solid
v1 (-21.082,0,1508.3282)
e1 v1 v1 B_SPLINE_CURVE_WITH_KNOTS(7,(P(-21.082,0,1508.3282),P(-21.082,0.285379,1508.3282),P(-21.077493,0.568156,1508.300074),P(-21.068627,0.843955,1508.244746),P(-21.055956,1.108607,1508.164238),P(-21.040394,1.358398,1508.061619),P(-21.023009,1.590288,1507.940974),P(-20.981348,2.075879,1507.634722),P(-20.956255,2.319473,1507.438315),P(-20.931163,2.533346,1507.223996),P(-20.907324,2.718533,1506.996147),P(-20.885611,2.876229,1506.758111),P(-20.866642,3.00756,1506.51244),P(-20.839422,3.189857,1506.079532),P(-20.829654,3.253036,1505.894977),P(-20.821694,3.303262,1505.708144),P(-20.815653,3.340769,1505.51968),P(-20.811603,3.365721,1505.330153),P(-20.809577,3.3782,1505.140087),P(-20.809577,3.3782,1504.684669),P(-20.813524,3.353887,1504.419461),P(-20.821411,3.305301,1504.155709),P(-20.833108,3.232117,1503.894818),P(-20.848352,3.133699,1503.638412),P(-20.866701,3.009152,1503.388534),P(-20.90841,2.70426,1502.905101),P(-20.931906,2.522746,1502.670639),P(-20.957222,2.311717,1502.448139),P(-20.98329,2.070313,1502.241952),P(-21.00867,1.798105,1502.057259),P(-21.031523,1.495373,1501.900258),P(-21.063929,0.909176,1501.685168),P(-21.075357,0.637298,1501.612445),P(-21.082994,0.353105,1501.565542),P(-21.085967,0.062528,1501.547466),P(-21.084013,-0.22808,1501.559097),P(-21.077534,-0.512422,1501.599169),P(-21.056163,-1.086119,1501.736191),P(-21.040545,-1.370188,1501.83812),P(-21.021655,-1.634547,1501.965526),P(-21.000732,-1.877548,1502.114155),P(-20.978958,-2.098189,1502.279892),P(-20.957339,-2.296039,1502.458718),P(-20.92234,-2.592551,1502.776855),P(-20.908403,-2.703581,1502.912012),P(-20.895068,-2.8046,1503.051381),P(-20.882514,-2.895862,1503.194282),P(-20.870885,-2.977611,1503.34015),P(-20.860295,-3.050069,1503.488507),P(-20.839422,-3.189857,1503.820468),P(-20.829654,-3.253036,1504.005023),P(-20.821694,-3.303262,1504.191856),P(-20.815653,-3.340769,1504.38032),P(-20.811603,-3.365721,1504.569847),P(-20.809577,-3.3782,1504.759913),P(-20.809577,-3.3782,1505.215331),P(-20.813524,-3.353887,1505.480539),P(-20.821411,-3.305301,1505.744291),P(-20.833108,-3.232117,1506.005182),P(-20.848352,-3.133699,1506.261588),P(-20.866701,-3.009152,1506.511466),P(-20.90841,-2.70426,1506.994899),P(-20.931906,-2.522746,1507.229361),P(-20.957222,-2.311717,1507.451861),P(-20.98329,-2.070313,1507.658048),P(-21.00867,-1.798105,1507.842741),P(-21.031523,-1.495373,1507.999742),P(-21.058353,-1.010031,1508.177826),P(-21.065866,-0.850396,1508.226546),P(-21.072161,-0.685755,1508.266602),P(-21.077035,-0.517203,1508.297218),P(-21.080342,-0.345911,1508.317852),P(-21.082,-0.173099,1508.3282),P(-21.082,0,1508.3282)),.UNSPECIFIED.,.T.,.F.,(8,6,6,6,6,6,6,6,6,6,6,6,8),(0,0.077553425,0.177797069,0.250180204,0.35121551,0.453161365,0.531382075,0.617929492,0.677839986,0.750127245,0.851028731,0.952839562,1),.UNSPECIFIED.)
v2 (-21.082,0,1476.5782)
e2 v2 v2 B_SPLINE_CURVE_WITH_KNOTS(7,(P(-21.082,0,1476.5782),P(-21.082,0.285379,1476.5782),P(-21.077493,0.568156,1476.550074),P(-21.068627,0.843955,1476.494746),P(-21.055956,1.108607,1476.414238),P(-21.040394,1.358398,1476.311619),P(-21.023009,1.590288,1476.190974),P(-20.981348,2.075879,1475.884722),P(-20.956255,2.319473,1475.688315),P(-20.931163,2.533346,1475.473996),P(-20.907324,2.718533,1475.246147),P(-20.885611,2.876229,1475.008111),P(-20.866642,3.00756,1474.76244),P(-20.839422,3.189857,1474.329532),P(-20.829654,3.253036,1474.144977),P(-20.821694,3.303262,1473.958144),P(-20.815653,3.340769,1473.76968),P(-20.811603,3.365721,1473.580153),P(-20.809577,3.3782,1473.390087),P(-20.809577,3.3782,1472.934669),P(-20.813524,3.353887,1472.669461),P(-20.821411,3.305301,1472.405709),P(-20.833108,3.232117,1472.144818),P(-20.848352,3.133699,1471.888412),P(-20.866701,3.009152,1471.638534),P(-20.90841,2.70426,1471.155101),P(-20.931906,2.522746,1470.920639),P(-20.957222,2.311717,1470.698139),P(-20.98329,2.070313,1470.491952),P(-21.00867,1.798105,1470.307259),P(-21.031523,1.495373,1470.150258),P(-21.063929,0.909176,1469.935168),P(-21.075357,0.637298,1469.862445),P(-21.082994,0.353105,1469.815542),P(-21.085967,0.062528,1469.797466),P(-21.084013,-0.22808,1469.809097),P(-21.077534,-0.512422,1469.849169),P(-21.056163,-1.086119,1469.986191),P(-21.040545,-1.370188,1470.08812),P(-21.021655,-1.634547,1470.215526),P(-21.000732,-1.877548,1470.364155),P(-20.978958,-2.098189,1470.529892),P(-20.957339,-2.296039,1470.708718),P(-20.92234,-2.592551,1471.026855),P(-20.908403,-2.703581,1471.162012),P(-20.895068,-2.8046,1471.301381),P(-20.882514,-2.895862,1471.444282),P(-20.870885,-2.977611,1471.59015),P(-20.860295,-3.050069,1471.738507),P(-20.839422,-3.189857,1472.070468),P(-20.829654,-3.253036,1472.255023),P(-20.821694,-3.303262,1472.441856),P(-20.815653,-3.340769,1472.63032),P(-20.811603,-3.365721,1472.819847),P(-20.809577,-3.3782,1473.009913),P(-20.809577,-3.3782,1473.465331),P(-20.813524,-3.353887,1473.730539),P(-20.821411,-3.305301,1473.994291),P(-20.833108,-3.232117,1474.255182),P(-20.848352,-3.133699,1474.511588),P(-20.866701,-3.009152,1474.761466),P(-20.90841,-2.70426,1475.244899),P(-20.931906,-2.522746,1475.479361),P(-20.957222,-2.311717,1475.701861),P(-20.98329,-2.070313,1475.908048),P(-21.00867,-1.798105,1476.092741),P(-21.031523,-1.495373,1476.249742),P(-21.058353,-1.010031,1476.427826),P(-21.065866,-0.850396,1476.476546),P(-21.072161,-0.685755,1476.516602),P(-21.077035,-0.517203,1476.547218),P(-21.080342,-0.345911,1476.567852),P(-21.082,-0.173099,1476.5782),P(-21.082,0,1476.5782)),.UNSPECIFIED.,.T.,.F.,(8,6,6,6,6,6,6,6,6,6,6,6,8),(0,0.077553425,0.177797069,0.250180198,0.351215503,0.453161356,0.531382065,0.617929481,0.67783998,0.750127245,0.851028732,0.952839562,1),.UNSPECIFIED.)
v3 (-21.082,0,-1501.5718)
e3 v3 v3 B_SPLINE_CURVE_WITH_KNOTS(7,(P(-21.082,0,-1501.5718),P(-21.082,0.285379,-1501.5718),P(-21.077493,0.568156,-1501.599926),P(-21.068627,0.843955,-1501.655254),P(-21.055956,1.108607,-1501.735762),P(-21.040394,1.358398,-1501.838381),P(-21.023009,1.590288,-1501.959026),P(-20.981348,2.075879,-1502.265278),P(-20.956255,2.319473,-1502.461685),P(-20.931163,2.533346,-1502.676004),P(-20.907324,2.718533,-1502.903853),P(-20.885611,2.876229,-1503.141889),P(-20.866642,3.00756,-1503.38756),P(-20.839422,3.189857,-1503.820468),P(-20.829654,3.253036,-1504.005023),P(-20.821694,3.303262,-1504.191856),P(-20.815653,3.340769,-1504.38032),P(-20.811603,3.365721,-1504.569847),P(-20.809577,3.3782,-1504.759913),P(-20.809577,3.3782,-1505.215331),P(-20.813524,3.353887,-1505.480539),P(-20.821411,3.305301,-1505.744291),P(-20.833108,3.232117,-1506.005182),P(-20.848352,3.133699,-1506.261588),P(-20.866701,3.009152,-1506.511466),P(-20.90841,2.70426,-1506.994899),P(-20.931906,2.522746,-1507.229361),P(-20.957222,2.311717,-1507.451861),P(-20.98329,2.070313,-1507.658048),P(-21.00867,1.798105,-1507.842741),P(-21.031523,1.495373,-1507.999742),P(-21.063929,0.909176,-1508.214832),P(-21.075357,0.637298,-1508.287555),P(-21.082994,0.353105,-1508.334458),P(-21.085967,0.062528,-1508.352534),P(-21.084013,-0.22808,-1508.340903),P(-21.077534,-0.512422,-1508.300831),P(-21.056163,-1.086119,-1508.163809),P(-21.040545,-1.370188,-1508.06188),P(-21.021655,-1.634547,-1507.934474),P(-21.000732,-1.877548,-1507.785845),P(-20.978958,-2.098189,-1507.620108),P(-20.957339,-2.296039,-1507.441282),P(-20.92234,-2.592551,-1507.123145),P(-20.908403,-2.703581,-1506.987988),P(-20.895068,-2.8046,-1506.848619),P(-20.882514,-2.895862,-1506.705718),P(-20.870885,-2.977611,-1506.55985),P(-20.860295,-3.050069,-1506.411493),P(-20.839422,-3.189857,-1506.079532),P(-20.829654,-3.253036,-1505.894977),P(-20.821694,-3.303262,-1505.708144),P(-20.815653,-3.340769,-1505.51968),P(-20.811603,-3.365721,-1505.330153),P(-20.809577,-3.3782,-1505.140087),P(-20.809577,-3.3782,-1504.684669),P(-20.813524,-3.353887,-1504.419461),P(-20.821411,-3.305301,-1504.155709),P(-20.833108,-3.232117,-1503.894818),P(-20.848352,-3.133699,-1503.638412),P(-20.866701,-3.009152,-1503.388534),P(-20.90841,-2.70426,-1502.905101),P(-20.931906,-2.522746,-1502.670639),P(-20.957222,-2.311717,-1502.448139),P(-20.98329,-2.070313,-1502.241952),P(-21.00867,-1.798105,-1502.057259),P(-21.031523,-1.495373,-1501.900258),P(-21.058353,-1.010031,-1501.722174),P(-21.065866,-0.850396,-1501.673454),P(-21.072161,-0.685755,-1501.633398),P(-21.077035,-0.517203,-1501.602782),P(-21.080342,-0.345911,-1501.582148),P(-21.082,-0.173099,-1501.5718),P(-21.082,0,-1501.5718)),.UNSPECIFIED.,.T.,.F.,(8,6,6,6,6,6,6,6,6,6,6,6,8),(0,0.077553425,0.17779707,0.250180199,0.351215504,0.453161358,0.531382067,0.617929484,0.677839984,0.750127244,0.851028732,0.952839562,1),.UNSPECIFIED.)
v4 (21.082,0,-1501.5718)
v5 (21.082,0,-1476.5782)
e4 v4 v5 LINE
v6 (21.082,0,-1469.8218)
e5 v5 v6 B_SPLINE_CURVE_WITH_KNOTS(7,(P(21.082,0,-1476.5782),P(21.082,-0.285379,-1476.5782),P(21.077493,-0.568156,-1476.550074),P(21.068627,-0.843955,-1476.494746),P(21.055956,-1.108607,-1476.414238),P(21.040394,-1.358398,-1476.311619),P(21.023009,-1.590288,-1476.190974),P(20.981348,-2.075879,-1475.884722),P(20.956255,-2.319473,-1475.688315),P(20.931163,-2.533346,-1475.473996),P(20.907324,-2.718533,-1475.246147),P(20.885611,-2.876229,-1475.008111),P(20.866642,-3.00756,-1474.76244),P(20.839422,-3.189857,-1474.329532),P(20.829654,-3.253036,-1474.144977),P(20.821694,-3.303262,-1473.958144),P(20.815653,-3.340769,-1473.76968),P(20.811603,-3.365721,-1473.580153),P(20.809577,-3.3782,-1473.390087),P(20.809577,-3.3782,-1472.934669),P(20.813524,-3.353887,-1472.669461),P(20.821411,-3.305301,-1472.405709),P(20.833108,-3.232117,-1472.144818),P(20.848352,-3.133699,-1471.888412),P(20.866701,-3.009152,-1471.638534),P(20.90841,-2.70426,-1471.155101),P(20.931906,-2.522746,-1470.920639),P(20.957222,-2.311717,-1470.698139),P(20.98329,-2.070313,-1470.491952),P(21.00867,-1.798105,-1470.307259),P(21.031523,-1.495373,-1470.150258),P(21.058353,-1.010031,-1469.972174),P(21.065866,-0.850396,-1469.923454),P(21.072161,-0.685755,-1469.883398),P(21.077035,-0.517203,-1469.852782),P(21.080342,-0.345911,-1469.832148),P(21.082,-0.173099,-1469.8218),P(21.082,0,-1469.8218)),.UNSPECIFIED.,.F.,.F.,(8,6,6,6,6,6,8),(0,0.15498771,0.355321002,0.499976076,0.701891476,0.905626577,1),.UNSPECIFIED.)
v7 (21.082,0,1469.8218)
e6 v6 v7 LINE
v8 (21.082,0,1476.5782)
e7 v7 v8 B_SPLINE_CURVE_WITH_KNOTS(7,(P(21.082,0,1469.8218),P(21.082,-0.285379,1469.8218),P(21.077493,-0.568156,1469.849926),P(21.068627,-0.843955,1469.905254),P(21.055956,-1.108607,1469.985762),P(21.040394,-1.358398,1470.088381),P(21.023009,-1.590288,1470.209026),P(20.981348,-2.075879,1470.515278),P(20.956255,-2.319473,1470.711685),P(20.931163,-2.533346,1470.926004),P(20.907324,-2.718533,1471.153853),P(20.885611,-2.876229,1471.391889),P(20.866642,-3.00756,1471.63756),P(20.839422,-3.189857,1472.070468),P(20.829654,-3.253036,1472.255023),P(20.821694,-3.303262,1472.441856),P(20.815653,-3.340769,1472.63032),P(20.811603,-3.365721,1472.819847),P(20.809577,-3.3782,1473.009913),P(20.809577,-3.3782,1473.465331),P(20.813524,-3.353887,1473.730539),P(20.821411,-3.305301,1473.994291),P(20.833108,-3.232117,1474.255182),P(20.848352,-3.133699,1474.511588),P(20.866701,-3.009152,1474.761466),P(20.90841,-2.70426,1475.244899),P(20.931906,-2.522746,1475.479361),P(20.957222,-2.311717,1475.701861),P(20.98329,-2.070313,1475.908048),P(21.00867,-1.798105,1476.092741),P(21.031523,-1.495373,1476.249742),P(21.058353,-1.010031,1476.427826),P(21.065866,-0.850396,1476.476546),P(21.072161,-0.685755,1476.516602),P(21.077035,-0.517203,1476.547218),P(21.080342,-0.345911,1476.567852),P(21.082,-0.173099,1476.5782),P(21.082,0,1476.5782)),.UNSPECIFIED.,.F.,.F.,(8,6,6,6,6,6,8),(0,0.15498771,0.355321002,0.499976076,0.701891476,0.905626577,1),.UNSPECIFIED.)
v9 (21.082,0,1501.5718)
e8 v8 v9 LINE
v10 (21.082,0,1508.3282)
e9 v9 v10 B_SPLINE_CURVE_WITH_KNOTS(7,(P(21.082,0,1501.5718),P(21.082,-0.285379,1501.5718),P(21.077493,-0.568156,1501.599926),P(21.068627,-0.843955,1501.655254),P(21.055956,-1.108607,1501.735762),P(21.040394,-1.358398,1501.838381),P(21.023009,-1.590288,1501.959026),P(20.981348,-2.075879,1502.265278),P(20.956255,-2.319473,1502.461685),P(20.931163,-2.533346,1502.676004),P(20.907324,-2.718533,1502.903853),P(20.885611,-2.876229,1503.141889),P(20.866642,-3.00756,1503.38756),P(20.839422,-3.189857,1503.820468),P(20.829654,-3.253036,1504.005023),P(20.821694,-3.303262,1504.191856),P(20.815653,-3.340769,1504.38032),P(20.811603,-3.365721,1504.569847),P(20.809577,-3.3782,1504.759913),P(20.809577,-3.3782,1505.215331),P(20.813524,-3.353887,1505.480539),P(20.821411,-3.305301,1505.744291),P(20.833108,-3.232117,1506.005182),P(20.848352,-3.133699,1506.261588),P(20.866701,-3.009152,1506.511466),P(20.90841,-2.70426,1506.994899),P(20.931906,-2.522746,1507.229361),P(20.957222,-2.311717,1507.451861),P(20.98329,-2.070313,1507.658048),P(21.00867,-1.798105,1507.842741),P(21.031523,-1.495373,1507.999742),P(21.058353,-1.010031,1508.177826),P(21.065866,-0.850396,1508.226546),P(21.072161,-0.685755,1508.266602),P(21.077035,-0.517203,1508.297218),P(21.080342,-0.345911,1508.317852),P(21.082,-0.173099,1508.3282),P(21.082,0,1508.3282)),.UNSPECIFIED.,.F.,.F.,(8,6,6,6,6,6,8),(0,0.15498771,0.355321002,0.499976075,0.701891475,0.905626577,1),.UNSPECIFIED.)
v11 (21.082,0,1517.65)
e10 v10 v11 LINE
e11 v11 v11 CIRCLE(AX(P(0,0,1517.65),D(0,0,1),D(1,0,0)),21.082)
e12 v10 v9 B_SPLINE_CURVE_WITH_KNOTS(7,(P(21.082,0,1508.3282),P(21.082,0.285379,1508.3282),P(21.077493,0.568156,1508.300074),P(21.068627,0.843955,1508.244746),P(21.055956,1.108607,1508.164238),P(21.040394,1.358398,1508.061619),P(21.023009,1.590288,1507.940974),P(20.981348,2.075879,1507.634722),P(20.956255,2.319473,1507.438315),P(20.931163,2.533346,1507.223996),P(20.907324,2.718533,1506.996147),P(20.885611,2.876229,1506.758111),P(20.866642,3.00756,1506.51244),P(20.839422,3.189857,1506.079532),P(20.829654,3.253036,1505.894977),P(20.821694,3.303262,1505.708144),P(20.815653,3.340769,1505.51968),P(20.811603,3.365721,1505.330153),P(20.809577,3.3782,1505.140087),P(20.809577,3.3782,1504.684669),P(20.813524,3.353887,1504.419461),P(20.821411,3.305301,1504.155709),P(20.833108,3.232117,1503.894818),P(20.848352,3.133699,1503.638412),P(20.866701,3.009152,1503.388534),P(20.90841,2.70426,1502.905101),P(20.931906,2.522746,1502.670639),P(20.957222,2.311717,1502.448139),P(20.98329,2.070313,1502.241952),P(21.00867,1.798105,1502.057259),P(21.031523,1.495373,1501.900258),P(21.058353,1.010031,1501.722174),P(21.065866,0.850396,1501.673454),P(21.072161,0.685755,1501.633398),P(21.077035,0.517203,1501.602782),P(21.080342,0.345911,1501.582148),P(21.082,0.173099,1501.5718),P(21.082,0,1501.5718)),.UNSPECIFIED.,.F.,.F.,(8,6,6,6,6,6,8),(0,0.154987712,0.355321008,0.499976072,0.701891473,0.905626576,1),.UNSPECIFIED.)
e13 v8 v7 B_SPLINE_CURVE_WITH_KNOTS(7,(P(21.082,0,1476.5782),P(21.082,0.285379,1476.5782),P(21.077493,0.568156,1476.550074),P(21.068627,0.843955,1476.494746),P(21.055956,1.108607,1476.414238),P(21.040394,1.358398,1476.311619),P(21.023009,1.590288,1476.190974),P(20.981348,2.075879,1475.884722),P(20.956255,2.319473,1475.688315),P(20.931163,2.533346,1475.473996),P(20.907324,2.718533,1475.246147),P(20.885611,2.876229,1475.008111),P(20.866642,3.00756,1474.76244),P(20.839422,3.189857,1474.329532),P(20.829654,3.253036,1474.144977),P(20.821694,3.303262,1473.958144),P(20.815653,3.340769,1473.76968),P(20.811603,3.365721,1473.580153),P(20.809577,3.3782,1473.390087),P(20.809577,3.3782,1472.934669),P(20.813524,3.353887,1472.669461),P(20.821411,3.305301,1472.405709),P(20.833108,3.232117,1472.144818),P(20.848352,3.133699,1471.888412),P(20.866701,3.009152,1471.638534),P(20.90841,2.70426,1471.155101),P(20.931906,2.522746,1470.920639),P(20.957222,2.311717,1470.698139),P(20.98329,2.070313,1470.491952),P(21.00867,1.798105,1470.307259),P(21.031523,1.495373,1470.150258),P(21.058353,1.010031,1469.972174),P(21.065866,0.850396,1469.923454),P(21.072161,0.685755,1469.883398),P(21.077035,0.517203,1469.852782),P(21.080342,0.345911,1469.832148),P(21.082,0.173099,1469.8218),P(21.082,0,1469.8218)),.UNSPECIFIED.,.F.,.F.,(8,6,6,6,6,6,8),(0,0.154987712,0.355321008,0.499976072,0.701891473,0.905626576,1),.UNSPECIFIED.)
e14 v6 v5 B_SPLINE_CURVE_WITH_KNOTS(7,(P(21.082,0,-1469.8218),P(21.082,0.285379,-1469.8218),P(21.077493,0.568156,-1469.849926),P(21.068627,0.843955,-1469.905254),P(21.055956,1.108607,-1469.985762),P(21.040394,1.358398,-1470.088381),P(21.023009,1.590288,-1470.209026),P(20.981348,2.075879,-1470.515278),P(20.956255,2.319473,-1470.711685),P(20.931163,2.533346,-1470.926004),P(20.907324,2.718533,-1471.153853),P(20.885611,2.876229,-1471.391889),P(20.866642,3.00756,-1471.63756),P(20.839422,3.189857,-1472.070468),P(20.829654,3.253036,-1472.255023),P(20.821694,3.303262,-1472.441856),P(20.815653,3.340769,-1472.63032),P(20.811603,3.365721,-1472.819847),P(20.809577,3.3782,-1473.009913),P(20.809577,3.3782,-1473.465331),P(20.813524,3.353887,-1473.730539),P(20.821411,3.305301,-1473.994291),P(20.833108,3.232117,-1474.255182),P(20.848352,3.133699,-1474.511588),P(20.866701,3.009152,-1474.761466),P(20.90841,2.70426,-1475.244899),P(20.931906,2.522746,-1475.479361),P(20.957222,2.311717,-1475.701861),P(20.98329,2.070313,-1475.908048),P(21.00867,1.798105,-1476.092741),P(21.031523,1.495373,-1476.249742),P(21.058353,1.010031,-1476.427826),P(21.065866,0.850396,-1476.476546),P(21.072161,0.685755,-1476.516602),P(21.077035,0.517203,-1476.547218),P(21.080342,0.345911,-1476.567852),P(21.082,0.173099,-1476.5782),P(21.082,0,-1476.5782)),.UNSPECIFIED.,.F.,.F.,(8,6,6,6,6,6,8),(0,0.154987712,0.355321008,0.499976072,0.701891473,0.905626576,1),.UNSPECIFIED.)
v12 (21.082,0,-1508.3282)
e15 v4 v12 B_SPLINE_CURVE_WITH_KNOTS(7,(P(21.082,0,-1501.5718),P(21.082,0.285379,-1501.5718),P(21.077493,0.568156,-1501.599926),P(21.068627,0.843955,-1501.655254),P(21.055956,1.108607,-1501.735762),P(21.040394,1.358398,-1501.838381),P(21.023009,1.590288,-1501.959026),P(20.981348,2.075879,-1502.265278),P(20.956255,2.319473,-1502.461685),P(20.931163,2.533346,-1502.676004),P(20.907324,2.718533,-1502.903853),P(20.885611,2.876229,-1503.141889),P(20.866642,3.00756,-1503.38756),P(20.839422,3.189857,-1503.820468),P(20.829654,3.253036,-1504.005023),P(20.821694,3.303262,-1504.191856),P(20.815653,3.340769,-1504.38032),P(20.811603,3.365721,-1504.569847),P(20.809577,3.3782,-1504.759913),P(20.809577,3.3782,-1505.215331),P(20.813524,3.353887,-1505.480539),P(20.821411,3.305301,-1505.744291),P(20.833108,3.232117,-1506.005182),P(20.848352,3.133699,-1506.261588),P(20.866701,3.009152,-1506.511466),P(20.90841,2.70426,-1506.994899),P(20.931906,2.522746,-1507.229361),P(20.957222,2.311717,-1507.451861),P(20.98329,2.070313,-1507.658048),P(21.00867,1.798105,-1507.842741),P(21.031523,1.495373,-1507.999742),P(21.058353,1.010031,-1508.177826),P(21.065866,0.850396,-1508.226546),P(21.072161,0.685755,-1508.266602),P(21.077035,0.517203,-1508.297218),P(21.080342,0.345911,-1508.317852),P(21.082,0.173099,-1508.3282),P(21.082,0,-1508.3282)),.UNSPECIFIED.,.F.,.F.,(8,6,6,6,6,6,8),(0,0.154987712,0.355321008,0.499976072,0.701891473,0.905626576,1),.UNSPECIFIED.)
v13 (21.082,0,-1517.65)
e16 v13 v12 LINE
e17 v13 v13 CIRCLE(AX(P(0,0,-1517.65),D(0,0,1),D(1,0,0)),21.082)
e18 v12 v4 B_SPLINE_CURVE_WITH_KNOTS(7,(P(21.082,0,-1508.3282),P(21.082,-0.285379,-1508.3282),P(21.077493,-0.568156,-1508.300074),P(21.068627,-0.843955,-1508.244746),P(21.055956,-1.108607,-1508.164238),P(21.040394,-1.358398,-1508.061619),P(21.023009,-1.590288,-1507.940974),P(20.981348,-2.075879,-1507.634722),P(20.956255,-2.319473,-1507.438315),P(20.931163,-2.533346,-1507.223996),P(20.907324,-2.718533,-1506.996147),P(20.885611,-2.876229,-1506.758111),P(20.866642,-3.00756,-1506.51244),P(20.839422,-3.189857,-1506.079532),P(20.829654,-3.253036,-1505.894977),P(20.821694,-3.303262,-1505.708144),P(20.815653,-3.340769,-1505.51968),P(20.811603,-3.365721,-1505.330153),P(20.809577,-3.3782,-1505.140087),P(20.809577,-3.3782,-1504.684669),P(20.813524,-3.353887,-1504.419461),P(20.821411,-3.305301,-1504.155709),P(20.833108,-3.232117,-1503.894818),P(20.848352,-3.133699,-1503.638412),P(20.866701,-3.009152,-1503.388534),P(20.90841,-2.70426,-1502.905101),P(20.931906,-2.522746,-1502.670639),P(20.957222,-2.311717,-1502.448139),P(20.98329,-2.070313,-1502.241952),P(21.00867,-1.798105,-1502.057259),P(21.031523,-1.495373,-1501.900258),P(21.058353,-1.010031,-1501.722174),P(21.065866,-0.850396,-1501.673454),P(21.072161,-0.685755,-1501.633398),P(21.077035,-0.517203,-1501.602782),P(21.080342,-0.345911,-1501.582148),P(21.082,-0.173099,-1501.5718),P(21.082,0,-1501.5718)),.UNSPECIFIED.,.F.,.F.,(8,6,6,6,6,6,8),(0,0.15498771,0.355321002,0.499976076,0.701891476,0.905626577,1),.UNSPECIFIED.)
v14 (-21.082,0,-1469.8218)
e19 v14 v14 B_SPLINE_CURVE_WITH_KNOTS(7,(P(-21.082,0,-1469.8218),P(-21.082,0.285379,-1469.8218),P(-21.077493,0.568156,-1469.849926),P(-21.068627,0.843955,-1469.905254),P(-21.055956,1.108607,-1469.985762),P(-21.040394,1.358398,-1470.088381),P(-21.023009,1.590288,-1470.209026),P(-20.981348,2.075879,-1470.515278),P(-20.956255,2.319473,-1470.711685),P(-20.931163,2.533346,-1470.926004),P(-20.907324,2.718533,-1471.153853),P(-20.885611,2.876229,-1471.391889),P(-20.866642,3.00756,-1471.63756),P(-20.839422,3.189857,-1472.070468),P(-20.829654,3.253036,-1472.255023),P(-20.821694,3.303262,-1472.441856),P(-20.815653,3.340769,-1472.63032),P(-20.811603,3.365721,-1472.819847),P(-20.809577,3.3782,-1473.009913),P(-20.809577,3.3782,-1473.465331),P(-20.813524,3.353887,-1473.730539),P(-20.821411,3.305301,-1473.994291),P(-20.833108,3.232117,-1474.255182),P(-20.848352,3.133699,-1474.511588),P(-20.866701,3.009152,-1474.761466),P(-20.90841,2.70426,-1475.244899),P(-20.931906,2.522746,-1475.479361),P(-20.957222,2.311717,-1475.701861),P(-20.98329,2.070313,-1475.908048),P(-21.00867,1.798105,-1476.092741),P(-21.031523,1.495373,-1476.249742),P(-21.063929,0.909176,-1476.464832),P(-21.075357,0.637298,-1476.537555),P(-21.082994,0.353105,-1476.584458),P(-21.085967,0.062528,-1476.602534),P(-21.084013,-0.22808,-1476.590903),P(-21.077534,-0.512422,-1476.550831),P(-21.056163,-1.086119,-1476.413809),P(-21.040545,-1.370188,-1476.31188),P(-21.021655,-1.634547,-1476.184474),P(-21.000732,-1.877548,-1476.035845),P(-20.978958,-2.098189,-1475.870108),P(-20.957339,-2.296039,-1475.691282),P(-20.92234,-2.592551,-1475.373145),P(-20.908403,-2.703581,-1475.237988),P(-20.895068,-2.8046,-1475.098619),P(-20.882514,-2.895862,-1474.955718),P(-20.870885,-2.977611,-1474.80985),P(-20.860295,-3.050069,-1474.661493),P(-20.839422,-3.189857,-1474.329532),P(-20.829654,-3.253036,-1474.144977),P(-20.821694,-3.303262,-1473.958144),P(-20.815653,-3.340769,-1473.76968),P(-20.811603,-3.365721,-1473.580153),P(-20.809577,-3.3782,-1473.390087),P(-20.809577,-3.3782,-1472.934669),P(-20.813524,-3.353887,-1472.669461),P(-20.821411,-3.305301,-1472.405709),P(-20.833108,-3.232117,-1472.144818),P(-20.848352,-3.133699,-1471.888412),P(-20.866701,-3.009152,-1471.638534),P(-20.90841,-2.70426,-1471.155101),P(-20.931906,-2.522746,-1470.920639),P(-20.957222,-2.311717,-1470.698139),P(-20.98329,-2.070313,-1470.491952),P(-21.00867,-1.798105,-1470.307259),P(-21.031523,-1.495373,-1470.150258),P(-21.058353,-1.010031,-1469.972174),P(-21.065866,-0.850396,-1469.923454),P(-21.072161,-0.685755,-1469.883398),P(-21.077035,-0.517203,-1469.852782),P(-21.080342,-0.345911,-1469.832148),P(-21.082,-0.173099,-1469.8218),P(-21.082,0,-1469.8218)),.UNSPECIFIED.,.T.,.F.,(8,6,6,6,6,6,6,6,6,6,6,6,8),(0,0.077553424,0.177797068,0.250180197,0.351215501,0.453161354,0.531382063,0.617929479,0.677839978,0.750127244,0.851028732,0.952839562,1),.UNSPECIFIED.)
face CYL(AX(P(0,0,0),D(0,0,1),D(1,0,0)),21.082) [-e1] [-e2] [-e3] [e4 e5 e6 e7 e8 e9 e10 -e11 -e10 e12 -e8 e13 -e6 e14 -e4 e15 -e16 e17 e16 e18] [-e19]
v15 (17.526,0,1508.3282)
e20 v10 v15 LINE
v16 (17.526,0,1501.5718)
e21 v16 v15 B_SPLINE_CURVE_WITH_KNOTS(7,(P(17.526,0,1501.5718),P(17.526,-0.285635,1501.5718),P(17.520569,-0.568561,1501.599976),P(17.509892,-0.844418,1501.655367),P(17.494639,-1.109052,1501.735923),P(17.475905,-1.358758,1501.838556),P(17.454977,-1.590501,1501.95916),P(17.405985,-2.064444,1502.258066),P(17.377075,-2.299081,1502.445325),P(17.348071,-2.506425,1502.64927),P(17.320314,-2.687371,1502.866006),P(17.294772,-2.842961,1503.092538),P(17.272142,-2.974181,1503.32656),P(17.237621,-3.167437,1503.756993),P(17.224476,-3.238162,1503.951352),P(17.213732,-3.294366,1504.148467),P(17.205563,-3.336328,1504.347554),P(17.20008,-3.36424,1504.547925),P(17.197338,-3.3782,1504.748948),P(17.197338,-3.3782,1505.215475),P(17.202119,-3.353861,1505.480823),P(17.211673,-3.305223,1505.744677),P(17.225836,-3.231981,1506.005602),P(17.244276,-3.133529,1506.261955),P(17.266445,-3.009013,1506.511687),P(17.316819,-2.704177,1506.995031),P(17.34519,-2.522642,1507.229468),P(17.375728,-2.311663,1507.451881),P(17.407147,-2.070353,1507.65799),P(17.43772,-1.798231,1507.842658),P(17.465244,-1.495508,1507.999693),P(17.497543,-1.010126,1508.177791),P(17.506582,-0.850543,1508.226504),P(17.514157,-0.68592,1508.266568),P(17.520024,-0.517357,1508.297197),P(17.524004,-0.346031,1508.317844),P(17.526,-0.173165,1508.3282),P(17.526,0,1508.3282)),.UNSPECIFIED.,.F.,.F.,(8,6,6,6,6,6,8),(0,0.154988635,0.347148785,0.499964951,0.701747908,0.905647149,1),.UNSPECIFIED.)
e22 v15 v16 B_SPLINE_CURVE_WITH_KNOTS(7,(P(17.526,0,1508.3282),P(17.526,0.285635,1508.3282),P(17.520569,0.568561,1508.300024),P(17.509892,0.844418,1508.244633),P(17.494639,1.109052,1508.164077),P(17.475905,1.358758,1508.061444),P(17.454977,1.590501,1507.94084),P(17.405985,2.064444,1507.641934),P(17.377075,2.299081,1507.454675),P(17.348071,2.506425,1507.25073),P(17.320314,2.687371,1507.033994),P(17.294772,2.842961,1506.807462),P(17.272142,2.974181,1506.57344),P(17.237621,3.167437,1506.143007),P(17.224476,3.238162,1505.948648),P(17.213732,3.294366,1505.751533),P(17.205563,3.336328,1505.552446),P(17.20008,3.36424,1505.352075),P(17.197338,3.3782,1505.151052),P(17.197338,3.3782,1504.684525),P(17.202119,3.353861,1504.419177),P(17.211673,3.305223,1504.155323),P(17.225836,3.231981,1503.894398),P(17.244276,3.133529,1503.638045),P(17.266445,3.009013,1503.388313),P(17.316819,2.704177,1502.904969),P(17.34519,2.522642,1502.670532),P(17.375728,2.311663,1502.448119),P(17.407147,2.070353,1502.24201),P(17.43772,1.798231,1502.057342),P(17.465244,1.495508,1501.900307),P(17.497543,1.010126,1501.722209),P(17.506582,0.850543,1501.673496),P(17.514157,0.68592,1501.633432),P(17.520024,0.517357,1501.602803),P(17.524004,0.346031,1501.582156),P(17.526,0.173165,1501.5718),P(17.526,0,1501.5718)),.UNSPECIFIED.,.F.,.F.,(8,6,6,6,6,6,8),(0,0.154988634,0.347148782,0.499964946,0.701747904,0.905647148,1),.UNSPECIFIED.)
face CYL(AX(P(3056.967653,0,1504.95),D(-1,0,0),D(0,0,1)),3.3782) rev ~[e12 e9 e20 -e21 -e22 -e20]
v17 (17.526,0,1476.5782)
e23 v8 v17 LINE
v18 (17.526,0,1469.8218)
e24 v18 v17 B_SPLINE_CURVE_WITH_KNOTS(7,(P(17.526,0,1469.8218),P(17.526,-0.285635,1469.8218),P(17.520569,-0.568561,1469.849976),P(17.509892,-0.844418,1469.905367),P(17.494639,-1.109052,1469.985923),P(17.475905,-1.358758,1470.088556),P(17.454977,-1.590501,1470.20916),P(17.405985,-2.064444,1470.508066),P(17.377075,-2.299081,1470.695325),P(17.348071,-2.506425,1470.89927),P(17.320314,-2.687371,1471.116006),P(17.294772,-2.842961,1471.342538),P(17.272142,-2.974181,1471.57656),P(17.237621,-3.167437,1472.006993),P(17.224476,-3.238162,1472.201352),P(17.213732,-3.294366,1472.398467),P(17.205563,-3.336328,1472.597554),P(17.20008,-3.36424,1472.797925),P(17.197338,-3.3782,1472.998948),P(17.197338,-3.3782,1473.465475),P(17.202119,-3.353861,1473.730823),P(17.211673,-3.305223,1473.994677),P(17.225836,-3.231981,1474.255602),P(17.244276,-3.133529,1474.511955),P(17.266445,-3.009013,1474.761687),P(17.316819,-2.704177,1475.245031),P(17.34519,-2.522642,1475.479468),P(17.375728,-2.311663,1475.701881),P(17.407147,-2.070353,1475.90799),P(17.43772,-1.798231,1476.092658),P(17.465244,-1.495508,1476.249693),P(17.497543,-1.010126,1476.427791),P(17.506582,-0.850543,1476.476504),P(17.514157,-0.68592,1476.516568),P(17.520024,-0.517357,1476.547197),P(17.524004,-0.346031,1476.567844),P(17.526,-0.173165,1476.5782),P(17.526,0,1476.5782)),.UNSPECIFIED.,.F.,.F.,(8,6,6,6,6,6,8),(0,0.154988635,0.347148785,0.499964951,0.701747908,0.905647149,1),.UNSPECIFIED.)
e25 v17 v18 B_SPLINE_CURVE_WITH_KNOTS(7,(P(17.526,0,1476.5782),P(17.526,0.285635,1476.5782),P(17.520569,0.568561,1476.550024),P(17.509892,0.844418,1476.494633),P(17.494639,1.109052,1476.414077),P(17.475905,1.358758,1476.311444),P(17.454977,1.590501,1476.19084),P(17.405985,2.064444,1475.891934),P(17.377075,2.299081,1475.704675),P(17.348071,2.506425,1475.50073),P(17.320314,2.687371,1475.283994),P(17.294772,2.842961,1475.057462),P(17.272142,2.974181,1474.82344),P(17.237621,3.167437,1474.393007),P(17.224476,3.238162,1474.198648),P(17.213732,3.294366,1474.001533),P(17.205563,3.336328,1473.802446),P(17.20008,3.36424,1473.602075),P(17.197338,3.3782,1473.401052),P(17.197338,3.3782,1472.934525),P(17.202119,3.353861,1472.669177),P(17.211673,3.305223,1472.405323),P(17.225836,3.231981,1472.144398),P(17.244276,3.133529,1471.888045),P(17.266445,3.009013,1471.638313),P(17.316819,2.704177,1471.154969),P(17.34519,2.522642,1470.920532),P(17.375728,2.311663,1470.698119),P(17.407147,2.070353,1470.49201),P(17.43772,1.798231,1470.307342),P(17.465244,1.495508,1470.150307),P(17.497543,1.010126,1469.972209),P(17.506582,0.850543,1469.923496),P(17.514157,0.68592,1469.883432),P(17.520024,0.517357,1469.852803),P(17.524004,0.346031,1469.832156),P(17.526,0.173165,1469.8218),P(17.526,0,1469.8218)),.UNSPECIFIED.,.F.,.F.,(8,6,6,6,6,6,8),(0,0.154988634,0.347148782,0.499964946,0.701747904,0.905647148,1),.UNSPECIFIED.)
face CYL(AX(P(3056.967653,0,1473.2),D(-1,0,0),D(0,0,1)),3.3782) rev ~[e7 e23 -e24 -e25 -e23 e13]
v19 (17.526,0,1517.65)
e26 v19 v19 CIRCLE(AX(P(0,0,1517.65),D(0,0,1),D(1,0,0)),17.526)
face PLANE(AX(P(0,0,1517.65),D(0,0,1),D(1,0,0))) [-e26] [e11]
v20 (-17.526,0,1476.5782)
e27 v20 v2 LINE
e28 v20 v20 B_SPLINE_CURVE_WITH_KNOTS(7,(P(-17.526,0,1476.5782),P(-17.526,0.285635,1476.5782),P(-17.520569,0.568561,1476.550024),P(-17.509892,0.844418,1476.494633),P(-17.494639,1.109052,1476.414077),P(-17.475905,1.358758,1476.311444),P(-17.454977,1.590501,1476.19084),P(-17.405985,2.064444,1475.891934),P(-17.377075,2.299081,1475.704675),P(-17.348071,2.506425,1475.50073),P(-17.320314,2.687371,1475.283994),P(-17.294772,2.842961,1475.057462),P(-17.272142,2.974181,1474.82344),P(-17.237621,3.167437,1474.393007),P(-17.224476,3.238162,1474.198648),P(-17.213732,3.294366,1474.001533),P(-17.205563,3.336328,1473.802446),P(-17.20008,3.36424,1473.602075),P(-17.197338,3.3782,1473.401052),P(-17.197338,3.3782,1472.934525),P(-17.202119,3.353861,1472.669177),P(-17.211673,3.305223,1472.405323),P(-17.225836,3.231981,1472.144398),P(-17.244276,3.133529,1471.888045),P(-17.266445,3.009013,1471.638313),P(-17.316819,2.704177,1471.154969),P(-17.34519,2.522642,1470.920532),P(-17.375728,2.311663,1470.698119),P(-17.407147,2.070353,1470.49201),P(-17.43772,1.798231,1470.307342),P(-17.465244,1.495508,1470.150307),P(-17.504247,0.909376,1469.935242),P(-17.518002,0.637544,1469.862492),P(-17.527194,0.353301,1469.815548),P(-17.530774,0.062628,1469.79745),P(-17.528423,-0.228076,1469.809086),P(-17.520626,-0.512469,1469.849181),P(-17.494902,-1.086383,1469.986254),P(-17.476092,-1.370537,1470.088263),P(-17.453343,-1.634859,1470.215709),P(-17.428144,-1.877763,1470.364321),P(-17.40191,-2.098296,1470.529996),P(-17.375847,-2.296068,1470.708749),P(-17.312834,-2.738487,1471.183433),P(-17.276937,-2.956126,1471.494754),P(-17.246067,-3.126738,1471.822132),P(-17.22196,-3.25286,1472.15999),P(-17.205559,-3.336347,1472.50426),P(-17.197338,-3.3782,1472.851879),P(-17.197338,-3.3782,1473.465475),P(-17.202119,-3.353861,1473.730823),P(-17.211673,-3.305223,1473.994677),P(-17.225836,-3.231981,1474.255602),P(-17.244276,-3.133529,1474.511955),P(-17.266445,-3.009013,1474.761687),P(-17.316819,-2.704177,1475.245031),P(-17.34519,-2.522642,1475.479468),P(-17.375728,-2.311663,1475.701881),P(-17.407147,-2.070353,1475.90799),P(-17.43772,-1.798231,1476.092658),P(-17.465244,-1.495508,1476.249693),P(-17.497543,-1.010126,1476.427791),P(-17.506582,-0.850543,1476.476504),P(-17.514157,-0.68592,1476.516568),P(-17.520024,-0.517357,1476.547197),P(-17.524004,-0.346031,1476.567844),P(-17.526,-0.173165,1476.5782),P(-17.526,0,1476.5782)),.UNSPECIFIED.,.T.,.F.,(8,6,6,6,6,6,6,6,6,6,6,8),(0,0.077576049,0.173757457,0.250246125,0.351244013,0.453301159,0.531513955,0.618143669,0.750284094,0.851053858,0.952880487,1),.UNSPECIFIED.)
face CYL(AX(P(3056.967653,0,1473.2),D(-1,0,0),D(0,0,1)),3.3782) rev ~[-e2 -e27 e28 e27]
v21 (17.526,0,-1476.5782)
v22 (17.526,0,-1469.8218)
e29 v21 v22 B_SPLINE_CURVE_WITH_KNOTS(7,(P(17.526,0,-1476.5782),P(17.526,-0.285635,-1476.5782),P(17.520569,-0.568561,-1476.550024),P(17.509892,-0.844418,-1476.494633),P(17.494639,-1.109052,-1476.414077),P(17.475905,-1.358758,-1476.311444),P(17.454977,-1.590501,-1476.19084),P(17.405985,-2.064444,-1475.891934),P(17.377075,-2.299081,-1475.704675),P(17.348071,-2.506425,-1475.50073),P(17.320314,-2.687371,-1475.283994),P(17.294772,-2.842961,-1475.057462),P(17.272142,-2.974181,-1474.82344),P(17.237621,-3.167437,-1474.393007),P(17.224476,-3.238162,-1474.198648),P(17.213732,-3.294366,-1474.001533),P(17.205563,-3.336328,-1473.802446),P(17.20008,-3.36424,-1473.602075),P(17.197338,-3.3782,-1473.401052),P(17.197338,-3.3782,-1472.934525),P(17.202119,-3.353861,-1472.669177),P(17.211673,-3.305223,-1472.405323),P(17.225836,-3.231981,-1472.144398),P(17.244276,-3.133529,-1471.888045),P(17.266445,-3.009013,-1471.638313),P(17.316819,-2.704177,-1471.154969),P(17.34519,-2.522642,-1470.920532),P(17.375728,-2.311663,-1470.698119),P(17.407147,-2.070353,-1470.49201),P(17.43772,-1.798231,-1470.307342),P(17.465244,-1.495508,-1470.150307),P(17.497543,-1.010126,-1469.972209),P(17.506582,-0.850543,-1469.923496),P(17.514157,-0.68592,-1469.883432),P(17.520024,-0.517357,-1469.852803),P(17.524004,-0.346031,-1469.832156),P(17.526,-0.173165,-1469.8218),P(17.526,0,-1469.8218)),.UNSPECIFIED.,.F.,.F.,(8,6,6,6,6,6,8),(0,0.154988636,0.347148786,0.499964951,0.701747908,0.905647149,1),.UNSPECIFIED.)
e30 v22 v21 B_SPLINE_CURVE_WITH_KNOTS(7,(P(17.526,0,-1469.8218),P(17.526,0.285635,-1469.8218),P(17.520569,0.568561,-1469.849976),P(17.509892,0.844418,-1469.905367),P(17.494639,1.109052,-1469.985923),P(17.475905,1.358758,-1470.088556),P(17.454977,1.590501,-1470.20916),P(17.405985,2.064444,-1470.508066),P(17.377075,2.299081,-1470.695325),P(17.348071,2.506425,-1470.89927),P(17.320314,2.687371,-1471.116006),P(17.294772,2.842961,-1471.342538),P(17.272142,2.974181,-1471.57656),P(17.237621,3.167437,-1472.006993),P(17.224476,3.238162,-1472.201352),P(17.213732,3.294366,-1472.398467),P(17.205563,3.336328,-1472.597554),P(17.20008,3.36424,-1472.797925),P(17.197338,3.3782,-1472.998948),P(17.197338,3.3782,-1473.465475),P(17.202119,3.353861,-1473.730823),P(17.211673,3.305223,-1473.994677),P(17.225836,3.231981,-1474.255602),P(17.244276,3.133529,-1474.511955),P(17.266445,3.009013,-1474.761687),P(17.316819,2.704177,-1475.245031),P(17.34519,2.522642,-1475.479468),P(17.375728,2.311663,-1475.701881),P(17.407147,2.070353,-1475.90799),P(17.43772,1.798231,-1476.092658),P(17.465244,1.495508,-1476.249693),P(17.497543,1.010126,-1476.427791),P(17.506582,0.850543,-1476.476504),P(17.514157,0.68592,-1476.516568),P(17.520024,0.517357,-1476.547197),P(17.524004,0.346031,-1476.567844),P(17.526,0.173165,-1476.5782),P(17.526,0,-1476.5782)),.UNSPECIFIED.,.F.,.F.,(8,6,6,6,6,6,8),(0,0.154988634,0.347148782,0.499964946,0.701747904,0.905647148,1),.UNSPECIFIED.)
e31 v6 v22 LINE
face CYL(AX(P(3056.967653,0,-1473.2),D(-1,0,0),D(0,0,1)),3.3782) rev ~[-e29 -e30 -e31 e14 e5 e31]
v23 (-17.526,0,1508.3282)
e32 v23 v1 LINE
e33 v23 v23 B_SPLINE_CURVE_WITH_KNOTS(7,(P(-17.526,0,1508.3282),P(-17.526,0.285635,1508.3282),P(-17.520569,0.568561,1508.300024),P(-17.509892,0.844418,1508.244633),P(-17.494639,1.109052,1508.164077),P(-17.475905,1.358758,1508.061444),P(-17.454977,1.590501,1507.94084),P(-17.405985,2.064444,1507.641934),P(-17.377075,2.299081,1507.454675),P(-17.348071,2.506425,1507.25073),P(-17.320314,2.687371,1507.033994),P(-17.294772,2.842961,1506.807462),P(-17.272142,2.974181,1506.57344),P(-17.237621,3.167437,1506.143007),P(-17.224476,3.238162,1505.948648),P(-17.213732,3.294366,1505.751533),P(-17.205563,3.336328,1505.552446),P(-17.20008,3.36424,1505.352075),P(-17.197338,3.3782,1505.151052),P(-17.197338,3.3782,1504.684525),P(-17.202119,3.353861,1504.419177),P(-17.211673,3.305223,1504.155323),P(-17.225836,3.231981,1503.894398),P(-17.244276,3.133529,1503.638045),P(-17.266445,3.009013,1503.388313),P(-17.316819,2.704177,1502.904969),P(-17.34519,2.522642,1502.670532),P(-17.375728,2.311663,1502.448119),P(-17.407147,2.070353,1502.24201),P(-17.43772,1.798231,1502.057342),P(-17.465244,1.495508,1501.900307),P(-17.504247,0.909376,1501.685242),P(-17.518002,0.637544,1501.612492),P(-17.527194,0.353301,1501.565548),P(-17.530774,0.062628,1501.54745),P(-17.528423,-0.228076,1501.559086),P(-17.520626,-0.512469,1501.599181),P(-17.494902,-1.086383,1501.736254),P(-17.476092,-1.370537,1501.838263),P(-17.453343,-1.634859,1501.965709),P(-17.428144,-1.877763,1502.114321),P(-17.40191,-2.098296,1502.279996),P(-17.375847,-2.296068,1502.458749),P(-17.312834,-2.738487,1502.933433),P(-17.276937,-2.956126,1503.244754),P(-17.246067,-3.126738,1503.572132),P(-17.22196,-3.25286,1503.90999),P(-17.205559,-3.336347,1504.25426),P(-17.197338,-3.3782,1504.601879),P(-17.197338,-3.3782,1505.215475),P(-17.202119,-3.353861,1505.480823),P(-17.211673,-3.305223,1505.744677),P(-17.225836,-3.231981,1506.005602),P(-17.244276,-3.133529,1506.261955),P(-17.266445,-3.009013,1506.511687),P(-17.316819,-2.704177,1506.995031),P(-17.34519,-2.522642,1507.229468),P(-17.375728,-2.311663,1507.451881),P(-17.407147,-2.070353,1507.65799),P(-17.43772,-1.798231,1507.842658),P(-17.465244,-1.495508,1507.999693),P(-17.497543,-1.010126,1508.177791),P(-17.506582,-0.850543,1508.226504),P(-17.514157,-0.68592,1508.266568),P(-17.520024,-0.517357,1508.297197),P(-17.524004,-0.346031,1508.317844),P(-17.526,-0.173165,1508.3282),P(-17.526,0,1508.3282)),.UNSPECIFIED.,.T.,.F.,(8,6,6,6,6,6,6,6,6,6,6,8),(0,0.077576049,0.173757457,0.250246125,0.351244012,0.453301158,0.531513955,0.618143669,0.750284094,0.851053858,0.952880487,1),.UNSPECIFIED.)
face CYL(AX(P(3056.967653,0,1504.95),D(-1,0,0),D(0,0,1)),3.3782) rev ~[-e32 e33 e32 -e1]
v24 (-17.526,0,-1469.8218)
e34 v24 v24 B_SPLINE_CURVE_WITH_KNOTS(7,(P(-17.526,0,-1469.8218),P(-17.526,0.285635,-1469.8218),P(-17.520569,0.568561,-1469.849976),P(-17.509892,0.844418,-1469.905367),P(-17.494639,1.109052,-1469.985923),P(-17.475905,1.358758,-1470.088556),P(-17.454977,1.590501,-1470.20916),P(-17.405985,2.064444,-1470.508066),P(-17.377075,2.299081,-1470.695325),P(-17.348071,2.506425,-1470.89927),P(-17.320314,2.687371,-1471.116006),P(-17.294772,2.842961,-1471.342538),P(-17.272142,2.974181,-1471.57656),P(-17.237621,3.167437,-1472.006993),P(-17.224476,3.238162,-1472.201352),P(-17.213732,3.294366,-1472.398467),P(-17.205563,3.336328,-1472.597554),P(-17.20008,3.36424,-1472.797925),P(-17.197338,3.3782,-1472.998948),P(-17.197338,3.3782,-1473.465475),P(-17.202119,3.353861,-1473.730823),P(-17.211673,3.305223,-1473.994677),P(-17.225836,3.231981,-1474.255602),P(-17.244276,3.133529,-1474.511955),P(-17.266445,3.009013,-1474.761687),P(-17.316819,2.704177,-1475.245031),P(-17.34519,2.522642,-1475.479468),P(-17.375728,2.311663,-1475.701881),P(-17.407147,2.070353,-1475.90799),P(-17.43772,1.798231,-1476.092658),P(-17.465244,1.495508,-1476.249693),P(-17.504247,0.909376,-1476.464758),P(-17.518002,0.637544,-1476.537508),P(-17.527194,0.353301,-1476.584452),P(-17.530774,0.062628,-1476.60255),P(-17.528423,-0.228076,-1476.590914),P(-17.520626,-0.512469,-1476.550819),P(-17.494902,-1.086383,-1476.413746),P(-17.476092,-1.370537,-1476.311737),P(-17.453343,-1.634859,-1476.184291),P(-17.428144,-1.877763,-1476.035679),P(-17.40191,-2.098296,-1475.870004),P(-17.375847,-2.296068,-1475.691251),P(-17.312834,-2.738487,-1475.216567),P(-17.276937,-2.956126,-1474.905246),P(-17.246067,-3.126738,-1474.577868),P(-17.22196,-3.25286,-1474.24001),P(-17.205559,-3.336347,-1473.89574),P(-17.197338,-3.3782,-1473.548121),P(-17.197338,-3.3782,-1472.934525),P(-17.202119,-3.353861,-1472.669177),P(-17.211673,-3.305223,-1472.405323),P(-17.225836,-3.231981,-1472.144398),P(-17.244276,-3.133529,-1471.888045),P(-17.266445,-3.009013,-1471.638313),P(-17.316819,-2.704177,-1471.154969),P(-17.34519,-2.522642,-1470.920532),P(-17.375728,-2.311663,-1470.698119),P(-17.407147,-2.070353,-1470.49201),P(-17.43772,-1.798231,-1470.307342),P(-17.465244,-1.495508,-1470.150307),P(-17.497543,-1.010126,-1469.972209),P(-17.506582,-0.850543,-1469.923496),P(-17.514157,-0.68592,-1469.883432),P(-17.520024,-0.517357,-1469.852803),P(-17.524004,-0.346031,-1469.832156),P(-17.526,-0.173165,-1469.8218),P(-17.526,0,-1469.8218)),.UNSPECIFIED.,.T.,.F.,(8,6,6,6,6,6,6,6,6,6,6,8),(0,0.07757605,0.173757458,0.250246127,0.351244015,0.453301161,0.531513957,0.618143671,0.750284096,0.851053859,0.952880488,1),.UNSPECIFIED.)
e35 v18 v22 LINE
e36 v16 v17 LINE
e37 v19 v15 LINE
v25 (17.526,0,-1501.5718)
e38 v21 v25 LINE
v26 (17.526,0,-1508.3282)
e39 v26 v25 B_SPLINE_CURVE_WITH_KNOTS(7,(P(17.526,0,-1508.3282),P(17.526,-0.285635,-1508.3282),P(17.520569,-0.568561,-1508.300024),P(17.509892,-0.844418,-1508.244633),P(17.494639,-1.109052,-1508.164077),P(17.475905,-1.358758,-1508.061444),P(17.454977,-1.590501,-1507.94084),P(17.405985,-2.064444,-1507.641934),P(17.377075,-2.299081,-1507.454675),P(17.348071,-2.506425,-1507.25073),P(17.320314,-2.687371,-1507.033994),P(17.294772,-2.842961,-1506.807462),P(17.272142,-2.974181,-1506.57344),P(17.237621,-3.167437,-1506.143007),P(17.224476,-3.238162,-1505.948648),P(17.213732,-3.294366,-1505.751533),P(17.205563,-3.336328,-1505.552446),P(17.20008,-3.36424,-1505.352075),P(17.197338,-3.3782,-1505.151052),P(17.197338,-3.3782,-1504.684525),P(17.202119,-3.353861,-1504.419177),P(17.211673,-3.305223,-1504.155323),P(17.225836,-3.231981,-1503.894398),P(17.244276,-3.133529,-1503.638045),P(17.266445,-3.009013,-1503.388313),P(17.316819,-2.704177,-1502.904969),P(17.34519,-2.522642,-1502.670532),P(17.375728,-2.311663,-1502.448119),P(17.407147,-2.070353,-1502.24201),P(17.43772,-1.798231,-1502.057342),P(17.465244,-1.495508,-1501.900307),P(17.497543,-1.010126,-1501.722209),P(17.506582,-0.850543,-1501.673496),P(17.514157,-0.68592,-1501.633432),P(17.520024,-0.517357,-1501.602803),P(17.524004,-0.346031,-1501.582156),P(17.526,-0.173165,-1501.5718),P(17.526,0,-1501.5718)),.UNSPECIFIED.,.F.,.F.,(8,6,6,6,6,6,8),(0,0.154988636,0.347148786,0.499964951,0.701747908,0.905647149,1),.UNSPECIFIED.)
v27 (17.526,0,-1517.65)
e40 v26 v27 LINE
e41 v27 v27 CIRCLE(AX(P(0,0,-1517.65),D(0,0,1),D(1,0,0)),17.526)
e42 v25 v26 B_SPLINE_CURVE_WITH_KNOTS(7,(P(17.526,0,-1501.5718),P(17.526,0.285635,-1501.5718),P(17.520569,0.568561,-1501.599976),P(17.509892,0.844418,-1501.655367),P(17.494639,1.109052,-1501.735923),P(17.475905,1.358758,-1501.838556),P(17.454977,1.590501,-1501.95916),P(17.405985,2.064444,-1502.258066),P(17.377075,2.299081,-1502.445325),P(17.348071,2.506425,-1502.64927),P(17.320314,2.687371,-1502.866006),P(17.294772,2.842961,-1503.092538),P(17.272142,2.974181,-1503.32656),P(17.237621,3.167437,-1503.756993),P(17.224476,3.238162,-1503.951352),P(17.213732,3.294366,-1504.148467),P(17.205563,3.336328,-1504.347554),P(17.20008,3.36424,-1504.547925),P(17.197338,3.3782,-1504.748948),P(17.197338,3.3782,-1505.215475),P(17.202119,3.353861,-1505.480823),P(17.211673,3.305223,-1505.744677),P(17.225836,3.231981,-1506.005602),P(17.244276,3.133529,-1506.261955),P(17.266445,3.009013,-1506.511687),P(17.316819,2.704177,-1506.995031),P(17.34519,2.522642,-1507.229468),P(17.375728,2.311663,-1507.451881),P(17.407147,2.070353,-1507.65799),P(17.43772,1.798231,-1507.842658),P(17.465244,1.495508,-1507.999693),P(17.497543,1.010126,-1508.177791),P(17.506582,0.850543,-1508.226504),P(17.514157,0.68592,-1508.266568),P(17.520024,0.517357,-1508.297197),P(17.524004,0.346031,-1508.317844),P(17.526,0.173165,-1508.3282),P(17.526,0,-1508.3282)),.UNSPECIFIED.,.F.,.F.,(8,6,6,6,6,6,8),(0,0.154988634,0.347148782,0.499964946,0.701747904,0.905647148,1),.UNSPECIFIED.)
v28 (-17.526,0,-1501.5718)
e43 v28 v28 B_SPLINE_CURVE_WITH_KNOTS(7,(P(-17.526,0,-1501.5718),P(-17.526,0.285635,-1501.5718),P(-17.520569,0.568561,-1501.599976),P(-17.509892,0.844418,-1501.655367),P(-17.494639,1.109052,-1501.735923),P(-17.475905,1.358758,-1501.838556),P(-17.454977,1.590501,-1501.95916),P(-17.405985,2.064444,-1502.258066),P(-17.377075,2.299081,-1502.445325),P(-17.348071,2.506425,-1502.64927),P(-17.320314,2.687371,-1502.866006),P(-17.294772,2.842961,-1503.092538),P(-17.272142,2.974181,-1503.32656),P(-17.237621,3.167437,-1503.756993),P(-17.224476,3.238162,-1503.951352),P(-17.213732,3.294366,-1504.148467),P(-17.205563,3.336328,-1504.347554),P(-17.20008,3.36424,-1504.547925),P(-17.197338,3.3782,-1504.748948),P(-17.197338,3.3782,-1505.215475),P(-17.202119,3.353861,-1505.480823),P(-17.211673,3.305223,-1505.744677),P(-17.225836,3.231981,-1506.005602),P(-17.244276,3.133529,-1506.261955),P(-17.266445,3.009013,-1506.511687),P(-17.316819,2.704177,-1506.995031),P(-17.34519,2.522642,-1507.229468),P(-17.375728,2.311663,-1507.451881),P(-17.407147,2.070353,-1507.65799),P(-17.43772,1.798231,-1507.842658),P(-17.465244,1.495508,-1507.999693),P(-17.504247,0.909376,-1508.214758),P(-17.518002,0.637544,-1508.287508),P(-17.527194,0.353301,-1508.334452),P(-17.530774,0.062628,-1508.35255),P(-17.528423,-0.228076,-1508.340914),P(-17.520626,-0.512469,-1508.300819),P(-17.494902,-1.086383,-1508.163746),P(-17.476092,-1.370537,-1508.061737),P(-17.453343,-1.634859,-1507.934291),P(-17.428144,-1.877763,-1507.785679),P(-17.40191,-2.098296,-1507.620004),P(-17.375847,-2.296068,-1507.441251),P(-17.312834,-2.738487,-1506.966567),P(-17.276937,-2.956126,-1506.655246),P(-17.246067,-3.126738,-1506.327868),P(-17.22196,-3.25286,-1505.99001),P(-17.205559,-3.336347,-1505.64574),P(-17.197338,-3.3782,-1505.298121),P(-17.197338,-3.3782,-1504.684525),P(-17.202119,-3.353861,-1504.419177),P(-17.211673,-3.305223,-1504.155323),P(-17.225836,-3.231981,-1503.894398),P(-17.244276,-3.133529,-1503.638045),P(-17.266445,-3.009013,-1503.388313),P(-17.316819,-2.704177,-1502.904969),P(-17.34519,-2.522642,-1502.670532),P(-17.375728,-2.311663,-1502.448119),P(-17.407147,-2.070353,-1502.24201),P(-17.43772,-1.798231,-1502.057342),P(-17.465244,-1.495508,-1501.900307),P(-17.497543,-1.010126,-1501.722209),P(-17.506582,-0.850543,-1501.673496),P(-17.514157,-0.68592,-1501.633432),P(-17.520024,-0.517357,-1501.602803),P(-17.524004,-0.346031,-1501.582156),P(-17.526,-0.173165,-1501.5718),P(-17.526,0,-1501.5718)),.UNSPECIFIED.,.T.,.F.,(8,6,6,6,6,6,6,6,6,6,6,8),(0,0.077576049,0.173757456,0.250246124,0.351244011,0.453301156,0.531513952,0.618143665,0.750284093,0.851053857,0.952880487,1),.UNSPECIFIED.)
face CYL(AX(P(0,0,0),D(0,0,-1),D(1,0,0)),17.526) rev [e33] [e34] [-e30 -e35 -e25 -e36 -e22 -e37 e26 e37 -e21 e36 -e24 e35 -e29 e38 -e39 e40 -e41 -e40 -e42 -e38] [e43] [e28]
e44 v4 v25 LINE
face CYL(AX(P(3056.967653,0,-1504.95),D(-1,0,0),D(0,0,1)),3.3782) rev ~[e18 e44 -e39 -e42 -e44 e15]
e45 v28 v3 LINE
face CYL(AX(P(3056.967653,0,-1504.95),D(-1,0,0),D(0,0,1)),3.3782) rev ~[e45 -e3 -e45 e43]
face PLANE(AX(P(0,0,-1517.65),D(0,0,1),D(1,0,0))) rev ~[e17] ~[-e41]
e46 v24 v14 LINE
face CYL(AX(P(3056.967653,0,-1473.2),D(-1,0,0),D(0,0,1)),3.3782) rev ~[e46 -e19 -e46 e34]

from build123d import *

# Parameters (mm, degrees)
SKETCH1_R               = 21.082
SKETCH1_R_2             = 17.526
BOSS_EXTRUDE1_DEPTH     = 1517.65
F_1_4_CLEARANCE_HOLE1_D = 6.7564


with BuildPart() as part:
    # Sketch1 → Boss-Extrude1 (new body, symmetric)
    with BuildSketch(Plane.XY):
        Circle(SKETCH1_R)
        Circle(SKETCH1_R_2, mode=Mode.SUBTRACT)
    extrude(amount=BOSS_EXTRUDE1_DEPTH, both=True)

    # 1/4 Clearance Hole1 (through all)
    with Locations(Plane(origin=(21.082, 0, 0), x_dir=(0, 0, -1), z_dir=(1, 0, 0))):
        with Locations((-1504.95, 0), (-1473.2, 0), (1504.95, 0), (1473.2, 0)):
            Hole(F_1_4_CLEARANCE_HOLE1_D / 2)


solid = part.part
